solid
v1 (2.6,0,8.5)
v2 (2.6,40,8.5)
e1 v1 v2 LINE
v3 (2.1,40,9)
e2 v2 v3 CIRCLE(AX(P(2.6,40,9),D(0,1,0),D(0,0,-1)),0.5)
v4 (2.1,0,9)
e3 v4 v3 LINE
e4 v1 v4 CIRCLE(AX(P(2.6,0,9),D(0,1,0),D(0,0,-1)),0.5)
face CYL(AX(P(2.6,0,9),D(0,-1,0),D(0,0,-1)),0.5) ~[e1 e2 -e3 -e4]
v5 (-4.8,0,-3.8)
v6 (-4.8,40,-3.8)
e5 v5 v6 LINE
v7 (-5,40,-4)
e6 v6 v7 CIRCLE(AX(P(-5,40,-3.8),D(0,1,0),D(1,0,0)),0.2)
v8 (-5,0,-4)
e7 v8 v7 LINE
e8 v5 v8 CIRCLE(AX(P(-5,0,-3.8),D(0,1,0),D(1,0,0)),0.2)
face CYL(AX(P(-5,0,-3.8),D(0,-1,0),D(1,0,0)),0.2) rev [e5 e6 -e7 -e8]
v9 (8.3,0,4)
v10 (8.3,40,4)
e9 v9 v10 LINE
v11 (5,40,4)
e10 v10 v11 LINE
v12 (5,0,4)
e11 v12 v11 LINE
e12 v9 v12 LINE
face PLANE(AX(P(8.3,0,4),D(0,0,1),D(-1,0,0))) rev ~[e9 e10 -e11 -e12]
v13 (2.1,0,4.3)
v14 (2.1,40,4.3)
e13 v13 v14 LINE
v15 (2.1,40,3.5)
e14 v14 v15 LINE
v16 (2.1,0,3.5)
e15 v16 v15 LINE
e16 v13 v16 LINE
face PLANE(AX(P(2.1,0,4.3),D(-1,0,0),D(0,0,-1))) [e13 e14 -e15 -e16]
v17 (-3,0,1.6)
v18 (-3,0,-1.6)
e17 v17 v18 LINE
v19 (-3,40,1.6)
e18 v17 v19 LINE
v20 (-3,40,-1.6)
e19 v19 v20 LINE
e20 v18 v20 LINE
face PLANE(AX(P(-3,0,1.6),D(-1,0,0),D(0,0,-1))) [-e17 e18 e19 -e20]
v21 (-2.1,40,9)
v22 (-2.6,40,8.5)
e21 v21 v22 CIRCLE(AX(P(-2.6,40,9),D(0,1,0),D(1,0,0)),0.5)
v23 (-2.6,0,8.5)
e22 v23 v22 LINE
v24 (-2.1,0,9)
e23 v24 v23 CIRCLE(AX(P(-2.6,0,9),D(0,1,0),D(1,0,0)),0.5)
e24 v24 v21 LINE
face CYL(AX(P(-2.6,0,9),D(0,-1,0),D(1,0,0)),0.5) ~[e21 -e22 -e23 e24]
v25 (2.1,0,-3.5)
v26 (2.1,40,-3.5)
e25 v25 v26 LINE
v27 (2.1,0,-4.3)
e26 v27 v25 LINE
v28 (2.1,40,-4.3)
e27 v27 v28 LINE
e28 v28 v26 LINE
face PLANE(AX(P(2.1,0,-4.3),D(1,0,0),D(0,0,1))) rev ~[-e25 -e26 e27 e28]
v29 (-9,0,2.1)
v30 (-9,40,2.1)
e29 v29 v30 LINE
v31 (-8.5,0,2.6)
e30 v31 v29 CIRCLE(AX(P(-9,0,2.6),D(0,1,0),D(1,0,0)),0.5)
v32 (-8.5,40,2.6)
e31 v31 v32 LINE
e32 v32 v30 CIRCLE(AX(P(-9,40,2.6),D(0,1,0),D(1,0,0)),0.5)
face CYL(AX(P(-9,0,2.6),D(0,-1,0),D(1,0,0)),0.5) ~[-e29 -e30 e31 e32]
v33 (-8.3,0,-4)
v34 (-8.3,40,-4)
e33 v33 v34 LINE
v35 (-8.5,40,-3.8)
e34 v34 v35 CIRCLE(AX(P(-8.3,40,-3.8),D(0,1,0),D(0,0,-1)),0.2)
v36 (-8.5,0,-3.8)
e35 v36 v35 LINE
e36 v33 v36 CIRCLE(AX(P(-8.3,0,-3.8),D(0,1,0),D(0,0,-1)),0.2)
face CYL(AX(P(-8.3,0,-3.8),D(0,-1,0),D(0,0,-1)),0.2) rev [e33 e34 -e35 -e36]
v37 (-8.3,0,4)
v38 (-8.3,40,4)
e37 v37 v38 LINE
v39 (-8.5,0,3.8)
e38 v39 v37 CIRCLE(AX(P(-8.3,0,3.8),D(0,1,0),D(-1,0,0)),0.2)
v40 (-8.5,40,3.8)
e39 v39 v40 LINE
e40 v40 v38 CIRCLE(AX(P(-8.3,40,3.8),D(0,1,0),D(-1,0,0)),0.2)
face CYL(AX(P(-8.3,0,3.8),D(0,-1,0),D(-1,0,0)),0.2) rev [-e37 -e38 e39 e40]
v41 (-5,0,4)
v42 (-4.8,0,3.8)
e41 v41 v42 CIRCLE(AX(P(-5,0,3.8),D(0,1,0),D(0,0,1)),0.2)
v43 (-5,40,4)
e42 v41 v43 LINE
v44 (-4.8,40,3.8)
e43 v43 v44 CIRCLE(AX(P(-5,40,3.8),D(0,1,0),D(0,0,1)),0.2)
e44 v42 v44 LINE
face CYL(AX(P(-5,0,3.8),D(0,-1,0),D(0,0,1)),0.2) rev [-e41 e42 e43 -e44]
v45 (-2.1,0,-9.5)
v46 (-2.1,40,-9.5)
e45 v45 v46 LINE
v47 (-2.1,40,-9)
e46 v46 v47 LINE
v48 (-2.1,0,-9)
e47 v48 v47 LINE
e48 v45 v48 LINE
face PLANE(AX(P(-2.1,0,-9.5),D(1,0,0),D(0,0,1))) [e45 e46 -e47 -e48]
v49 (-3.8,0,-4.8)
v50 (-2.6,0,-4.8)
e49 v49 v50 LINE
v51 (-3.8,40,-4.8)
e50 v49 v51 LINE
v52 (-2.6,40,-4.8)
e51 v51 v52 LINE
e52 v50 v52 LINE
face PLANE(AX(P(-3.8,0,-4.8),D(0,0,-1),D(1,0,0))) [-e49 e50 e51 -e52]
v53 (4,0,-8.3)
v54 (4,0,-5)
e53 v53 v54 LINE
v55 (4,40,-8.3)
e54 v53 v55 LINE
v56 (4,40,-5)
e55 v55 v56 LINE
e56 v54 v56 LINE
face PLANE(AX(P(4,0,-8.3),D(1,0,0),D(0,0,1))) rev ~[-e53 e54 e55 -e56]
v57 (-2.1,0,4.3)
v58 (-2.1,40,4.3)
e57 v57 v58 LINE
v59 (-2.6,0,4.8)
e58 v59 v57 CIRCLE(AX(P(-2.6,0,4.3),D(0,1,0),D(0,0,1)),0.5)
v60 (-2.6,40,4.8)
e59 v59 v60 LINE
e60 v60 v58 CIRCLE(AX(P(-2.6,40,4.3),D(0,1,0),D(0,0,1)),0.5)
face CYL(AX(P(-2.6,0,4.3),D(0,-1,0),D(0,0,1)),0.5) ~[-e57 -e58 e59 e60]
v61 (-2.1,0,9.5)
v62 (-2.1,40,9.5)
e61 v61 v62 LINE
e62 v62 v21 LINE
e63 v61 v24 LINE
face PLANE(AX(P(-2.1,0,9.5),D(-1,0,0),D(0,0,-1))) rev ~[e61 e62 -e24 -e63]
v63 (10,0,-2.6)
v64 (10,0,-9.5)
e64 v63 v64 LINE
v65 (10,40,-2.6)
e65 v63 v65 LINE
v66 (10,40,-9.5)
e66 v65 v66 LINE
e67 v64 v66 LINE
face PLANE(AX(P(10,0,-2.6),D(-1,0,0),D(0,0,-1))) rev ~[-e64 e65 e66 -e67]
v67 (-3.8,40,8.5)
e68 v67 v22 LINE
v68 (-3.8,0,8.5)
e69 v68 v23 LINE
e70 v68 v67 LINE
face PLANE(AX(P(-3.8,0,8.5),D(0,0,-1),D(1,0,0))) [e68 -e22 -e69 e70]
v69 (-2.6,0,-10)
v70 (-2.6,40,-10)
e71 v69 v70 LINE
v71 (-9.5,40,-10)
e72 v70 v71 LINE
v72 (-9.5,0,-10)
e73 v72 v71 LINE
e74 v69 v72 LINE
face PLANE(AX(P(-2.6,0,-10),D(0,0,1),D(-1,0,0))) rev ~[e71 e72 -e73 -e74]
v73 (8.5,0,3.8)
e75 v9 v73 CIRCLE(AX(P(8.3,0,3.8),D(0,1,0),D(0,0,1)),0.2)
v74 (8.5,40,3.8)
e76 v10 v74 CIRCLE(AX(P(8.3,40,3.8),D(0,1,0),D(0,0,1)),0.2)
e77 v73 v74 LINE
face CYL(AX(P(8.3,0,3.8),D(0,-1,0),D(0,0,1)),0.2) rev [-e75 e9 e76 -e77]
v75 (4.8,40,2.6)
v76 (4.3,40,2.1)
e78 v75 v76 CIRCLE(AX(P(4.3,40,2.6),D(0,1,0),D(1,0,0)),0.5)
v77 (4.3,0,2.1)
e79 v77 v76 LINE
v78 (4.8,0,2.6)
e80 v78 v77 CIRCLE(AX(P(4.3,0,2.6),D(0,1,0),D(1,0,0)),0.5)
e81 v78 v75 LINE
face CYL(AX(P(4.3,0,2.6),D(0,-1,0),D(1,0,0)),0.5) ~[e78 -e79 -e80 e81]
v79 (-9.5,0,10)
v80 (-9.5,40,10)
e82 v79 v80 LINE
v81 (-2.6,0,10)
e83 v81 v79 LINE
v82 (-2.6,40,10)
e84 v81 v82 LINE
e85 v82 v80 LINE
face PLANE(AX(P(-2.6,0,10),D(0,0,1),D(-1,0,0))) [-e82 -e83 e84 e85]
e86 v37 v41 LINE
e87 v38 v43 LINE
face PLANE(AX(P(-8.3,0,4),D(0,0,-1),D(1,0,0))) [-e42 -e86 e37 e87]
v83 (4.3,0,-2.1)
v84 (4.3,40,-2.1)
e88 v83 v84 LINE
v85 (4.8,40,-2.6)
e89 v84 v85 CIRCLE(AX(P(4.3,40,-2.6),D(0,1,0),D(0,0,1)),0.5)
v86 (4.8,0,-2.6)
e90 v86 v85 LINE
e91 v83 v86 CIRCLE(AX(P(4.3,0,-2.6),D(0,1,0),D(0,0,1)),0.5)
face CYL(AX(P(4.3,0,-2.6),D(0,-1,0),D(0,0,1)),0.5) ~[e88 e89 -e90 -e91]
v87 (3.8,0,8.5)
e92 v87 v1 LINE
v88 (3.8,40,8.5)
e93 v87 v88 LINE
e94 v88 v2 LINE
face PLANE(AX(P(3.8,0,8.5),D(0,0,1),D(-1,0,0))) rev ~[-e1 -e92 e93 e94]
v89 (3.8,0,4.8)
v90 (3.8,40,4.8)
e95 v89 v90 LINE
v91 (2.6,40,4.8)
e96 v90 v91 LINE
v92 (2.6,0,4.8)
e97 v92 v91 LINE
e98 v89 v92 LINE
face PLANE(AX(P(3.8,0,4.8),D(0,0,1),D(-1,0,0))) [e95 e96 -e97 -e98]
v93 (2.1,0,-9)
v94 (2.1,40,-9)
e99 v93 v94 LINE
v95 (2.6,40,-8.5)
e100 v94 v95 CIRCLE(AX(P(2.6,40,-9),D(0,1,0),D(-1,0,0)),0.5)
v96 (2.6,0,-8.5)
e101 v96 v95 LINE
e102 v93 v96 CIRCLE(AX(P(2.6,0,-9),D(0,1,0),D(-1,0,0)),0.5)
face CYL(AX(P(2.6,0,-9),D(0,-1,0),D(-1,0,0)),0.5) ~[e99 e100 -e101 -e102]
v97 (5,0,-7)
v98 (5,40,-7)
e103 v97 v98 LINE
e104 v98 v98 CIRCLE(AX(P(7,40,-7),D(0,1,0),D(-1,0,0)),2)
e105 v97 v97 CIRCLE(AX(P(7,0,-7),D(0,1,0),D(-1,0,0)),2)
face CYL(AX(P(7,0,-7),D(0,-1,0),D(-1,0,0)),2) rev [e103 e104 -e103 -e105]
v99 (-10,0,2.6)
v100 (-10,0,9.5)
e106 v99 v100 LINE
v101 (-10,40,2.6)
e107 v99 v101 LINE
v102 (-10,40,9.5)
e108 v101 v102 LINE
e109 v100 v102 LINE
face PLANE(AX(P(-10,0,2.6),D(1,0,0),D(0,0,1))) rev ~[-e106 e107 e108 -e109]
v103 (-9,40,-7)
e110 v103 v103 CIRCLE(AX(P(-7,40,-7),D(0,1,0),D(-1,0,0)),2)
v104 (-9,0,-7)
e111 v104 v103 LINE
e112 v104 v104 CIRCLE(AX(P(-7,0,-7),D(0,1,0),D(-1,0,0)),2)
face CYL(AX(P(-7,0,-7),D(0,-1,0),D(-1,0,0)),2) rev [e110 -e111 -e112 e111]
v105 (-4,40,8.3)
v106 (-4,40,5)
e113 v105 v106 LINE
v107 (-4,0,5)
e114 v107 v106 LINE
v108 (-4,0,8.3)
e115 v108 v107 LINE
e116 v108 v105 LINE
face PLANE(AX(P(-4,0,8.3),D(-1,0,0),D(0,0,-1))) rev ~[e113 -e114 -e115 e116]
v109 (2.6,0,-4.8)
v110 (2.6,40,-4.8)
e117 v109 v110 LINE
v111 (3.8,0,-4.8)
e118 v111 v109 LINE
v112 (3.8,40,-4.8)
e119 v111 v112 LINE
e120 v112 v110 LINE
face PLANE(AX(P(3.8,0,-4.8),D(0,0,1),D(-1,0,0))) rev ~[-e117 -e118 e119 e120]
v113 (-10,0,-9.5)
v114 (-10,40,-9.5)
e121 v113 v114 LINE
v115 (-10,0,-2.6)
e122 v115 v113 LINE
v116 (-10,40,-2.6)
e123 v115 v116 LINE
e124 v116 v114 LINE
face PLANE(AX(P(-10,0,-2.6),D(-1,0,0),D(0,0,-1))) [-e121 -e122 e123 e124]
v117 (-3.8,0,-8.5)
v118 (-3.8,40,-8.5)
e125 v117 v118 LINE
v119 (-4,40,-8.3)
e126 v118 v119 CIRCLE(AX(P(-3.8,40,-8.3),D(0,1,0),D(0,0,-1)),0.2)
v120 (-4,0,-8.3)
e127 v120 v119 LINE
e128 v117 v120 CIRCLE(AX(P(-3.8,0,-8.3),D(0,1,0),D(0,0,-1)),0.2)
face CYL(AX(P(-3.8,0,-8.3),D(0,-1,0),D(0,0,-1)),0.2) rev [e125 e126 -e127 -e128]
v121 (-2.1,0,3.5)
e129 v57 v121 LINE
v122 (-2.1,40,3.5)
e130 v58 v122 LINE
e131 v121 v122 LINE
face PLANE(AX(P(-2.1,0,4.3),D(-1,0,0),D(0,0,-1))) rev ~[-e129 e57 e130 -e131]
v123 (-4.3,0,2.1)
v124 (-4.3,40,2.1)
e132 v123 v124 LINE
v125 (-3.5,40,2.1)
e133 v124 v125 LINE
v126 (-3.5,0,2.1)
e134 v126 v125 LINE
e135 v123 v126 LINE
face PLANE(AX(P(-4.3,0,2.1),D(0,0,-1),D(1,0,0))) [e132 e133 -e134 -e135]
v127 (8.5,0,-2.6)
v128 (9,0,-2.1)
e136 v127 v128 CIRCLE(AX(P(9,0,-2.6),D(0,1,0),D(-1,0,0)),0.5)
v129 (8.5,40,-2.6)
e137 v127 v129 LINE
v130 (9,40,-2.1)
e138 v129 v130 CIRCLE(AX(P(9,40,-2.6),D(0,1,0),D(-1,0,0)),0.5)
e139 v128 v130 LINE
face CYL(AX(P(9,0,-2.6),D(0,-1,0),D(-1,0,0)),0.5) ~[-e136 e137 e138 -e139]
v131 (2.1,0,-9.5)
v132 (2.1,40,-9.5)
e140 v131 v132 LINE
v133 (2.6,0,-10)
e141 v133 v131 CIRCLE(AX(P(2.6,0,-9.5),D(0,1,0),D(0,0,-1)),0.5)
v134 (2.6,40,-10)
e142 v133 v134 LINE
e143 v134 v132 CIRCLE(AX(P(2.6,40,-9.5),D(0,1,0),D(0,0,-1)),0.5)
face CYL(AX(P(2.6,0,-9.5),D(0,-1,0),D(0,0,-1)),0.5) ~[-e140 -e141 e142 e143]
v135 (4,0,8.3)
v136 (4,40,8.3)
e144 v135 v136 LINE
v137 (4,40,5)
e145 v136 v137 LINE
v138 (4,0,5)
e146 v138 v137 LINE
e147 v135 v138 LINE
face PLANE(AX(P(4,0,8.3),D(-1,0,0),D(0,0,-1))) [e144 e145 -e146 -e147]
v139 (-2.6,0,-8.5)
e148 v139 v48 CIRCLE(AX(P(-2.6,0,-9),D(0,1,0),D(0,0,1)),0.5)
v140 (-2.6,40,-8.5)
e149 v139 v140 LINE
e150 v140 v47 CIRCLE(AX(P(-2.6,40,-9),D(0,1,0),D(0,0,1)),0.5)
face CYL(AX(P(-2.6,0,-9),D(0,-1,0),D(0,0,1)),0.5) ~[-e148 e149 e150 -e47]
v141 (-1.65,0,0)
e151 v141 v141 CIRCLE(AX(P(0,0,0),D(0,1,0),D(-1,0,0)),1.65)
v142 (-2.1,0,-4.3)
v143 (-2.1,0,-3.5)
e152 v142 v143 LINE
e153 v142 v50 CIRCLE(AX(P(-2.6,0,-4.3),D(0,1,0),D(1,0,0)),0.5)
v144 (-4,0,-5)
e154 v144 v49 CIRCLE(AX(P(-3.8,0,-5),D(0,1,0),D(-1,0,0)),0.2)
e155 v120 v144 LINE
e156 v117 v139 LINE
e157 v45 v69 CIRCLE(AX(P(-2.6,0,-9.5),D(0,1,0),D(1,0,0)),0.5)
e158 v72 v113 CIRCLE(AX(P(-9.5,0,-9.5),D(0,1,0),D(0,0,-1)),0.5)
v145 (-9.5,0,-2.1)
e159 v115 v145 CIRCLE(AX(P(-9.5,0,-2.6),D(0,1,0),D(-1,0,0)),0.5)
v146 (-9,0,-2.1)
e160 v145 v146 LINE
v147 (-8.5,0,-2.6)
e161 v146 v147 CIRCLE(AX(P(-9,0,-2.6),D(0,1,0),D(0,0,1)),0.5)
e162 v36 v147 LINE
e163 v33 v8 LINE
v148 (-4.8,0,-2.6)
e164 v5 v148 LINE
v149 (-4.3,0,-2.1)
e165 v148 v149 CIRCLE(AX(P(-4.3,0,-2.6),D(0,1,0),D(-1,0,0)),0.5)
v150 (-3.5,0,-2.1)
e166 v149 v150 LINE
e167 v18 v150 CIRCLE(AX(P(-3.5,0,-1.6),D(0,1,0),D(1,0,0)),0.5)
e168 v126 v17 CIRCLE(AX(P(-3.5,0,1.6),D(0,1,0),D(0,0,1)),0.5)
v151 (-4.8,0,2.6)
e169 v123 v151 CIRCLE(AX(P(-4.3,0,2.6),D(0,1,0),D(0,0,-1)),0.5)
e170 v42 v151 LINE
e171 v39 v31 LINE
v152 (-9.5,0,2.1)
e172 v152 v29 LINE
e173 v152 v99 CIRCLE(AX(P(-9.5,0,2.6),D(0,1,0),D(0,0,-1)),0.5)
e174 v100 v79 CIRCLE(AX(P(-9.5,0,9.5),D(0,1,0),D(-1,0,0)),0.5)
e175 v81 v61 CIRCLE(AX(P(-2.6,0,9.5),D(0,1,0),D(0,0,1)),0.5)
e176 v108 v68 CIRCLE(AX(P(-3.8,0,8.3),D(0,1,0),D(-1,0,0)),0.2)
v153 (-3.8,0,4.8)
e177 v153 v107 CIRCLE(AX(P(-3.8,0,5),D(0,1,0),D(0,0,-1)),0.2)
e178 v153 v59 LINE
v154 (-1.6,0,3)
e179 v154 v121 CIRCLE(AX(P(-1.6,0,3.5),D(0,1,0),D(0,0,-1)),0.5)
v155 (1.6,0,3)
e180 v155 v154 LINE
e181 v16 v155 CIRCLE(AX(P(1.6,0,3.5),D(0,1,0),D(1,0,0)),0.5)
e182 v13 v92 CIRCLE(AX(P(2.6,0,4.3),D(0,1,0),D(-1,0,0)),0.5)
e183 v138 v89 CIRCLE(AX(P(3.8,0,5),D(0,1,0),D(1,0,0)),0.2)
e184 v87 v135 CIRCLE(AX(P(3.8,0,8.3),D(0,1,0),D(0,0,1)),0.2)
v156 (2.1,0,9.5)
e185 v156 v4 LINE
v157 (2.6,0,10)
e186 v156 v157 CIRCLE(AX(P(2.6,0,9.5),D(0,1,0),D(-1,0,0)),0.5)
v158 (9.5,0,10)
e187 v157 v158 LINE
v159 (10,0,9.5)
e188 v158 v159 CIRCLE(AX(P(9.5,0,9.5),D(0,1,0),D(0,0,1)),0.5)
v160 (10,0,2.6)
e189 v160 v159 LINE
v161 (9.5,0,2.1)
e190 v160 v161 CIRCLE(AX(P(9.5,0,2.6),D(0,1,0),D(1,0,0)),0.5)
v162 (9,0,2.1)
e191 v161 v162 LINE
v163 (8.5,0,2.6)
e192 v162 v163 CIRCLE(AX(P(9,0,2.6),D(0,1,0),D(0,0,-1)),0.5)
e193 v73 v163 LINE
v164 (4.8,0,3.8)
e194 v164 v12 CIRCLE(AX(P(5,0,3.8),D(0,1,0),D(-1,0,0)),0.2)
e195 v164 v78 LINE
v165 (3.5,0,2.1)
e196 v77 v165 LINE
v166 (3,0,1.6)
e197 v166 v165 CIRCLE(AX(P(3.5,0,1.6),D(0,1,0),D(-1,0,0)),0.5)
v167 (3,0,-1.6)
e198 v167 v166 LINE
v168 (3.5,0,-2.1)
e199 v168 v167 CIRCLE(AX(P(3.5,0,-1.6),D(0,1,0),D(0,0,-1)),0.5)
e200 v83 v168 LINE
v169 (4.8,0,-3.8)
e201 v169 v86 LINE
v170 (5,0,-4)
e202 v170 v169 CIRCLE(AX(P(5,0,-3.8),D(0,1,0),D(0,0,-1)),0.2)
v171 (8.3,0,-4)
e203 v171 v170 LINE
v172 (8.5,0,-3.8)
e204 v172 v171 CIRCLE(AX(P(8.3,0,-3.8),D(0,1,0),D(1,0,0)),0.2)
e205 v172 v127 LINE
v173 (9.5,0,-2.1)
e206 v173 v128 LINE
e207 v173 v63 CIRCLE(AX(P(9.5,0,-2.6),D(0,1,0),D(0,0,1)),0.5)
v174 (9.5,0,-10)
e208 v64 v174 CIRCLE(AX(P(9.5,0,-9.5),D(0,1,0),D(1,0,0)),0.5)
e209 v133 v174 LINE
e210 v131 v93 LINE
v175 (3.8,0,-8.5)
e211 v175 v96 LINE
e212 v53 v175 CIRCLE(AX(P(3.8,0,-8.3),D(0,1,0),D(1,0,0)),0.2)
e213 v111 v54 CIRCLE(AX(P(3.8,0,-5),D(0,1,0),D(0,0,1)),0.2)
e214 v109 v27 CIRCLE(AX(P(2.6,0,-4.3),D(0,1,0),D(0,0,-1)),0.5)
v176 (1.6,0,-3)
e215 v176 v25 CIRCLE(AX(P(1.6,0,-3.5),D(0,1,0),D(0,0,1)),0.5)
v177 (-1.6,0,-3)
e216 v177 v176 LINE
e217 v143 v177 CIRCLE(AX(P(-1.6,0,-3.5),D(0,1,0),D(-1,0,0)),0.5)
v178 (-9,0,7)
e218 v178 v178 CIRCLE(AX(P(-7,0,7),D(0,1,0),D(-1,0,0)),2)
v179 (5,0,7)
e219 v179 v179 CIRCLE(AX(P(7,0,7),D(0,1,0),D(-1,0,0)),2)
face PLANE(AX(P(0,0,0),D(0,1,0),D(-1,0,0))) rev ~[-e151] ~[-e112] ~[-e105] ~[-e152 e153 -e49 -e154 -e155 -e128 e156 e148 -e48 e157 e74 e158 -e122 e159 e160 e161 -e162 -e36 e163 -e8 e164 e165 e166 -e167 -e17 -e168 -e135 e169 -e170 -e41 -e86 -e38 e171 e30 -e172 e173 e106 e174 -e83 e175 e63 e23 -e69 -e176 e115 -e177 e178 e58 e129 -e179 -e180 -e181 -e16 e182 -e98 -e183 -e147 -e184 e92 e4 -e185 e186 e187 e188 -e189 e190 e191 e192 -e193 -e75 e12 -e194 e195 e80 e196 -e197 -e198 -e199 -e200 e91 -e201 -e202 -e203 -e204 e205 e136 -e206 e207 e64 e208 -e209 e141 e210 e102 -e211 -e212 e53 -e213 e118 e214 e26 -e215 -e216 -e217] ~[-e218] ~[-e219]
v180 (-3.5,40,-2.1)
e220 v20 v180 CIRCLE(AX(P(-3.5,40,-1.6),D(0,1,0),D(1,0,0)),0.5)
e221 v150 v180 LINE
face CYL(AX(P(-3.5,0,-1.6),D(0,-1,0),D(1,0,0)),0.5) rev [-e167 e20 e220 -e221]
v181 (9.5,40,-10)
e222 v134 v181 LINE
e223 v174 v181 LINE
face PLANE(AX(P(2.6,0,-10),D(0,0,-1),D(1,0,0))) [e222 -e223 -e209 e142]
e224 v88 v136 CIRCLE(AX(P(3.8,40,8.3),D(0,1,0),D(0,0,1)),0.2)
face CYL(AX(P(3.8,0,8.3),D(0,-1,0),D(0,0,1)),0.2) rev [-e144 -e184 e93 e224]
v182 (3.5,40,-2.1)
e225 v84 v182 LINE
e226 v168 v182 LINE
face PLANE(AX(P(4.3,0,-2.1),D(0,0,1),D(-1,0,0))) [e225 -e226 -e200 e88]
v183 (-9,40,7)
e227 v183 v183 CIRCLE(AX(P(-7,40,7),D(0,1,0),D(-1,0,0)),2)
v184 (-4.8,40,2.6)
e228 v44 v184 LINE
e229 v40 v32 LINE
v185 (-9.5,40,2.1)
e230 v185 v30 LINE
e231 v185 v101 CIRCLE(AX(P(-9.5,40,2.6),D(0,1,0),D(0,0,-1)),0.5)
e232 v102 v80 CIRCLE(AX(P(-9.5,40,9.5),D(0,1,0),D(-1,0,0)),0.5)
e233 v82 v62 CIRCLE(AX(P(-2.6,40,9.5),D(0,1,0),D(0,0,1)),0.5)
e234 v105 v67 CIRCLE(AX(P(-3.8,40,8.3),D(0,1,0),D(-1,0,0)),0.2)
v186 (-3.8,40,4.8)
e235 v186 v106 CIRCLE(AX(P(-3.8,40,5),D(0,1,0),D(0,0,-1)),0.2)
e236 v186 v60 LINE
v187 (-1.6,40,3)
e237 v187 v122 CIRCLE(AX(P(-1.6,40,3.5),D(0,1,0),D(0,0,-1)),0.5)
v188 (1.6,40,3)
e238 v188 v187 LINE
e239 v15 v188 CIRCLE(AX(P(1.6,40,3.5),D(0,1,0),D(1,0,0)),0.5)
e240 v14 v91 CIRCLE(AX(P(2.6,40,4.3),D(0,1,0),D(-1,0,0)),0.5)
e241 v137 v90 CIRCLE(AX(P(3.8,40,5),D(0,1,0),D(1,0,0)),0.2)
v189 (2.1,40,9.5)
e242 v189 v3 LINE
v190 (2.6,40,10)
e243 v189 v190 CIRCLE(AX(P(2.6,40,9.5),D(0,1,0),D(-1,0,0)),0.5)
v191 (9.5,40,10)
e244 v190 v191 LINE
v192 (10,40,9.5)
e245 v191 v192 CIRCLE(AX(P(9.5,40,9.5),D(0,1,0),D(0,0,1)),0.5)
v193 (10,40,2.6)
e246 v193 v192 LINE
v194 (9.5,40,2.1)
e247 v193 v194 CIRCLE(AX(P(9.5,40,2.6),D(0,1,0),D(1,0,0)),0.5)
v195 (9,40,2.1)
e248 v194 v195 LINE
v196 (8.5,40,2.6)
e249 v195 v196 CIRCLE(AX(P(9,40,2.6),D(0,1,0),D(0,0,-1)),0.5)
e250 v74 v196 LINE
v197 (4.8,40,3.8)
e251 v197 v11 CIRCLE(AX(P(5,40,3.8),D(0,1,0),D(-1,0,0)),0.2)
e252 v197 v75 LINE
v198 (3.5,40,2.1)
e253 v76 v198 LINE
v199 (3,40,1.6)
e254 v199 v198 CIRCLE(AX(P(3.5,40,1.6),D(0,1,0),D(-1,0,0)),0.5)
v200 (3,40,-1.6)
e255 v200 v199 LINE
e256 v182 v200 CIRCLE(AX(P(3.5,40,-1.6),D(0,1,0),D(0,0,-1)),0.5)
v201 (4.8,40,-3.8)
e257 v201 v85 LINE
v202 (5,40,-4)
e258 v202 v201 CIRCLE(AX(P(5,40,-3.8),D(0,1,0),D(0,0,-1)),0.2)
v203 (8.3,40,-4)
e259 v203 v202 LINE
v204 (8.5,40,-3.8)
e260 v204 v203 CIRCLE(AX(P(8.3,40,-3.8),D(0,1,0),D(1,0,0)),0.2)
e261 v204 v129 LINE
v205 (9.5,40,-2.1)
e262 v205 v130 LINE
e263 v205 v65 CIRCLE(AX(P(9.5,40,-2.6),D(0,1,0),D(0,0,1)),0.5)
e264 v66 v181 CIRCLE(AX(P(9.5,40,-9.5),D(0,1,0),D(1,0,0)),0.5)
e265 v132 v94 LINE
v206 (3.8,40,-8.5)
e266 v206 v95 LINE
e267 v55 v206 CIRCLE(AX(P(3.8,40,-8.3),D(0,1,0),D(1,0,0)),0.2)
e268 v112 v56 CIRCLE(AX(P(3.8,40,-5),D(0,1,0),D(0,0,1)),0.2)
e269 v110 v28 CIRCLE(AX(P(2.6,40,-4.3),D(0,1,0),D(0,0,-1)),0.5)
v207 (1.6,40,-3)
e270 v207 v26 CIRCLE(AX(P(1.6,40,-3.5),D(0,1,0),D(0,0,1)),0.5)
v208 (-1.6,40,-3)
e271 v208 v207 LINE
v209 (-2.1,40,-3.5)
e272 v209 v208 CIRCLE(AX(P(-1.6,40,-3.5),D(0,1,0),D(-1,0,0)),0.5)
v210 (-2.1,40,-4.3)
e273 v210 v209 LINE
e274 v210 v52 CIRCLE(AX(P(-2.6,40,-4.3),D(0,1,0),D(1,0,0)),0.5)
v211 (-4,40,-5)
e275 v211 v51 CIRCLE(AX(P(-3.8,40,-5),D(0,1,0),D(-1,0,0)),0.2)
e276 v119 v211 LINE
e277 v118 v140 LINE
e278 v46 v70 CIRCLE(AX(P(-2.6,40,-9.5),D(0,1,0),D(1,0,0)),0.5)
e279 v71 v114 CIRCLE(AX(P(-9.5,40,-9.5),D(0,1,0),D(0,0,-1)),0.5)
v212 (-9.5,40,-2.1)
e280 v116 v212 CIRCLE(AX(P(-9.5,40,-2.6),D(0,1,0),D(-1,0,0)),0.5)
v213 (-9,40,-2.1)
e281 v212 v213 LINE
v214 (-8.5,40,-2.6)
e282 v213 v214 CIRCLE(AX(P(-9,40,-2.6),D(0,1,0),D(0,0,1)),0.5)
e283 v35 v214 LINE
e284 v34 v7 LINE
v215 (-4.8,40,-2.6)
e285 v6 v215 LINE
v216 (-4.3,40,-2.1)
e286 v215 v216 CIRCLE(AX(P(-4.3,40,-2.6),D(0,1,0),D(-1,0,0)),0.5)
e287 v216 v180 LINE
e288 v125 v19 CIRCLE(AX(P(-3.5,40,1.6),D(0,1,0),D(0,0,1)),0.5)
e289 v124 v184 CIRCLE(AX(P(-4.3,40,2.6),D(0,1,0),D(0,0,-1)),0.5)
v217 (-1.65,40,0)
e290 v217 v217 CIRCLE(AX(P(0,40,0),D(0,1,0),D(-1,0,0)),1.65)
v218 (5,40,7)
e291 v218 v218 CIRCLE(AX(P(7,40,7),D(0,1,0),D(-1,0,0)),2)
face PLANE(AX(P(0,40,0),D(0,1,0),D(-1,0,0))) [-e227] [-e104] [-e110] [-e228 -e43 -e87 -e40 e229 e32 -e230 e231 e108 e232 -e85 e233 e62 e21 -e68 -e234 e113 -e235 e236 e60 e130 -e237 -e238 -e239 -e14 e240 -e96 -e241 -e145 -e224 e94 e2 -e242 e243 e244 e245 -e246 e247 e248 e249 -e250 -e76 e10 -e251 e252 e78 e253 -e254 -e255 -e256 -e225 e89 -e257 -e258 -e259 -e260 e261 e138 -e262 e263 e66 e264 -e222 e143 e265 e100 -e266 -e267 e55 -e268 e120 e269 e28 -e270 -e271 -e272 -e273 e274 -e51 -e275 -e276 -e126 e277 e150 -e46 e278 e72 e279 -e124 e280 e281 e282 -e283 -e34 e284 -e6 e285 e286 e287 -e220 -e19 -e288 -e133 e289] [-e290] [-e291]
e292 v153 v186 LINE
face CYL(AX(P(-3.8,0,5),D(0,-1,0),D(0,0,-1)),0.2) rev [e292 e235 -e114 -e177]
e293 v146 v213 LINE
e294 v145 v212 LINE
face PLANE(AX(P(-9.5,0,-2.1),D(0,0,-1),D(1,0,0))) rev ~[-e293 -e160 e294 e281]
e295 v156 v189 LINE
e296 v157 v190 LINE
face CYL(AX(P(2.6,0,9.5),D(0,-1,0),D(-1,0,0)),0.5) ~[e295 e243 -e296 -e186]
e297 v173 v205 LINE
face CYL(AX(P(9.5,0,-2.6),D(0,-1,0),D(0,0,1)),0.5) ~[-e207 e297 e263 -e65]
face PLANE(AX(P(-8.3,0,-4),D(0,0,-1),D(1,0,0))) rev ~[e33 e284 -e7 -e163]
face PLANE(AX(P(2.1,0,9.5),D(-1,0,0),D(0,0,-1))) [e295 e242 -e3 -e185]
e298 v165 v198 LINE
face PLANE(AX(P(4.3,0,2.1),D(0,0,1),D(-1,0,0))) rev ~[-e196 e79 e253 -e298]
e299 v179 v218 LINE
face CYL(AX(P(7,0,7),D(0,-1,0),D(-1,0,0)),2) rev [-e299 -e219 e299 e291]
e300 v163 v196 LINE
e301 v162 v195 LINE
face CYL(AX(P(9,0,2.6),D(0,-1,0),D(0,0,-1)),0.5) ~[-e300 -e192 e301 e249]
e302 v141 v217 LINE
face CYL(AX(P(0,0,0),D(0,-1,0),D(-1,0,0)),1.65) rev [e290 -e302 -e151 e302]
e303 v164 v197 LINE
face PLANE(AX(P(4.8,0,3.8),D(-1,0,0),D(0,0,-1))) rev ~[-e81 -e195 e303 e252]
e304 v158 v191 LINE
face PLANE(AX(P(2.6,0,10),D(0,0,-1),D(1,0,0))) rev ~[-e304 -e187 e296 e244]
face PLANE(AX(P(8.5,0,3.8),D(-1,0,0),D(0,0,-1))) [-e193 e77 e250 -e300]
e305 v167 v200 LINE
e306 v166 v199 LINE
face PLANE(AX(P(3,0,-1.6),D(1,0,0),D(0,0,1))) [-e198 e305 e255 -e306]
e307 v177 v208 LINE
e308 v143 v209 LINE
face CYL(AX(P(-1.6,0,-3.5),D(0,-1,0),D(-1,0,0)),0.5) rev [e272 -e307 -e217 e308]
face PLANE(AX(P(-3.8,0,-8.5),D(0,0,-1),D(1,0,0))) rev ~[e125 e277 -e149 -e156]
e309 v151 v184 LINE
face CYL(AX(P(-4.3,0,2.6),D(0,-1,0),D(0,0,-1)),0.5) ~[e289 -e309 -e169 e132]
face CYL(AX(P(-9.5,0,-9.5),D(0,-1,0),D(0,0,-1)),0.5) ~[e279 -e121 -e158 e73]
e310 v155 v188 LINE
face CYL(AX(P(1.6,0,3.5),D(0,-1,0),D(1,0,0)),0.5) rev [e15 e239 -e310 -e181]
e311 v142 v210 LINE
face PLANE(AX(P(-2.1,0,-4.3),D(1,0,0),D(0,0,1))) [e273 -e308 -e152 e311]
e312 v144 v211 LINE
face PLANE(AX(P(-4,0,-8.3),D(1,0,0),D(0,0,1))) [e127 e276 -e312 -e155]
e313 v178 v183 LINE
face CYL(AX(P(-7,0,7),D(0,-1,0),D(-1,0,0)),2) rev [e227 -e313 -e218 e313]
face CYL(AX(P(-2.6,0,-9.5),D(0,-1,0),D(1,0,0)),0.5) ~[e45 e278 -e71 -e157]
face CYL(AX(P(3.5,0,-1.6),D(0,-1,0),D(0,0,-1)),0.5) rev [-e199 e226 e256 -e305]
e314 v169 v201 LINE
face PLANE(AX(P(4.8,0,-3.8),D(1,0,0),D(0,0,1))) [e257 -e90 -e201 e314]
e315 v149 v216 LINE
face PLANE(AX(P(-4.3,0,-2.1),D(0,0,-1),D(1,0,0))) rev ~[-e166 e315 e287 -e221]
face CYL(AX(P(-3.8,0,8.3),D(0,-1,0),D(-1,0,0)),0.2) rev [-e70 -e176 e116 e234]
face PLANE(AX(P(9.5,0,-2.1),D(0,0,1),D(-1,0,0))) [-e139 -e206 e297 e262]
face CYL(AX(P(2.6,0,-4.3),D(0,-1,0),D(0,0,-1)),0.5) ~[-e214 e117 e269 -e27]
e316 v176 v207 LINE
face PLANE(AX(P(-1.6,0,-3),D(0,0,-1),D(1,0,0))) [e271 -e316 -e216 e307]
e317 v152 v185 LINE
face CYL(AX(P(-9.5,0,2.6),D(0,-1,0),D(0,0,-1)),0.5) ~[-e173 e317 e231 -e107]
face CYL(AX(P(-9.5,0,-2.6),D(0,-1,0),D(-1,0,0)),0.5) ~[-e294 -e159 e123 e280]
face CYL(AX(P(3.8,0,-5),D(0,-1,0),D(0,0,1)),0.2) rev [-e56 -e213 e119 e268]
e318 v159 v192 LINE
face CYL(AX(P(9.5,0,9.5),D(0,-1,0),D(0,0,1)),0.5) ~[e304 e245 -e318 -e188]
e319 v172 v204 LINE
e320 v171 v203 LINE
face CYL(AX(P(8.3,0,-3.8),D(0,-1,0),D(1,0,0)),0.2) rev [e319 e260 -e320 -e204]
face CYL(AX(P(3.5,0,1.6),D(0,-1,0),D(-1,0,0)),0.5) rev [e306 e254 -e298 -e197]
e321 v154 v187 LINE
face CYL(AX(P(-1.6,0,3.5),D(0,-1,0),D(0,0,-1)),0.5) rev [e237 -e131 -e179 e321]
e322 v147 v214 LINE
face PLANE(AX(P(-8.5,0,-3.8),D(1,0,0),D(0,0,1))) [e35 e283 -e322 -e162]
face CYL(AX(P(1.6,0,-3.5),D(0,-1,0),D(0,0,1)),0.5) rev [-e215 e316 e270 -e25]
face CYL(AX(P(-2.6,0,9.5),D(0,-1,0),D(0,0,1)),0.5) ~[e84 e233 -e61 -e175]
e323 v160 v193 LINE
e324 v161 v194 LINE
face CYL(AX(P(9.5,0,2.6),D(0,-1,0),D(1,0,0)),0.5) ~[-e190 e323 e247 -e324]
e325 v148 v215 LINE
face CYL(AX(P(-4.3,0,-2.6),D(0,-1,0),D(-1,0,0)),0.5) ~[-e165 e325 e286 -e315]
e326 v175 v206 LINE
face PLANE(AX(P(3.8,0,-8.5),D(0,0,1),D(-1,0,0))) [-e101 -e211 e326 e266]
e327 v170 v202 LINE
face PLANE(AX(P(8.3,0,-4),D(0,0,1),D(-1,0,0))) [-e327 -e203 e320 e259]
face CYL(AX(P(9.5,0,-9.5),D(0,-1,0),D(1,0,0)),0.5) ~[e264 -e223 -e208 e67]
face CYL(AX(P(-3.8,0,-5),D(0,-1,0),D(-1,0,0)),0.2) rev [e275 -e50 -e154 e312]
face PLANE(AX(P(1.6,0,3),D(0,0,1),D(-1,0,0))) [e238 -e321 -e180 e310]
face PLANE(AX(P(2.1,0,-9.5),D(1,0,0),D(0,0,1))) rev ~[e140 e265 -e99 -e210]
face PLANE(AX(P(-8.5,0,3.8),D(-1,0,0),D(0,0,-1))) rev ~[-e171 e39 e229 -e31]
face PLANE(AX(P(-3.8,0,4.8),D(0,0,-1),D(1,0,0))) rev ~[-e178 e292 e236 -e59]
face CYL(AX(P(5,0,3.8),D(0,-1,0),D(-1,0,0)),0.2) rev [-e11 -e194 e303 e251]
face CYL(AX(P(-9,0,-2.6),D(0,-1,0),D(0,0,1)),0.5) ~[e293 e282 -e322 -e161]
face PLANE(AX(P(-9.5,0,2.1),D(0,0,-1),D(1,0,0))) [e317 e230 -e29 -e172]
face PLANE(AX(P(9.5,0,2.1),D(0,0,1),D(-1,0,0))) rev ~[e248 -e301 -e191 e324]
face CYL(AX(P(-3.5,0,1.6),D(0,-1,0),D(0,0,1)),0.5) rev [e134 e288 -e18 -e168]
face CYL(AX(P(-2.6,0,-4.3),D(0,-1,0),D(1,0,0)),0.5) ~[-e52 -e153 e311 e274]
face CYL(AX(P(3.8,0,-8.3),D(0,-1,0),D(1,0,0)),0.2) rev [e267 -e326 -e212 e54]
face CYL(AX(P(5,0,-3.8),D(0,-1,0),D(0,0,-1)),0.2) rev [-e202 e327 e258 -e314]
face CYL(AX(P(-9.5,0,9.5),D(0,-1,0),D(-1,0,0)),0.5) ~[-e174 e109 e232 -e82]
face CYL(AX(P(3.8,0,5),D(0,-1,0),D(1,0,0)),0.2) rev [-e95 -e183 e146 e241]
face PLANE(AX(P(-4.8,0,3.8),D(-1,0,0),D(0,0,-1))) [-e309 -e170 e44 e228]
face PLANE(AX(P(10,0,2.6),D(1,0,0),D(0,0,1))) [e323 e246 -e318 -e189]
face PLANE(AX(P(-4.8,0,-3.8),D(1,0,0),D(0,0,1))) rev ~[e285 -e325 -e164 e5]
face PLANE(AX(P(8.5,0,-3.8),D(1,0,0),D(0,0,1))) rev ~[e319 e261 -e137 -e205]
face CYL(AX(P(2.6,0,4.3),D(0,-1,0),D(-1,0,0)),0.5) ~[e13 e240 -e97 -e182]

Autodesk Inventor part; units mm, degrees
ref_plane "YZ Plane" through (0, 0, 0) normal (1, 0, 0) x (0, 1, 0)
ref_plane "開始平面" through (0, 0, 0) normal (0, 1, 0) x (-1, 0, 0)
ref_plane "終了平面" through (0, 40, 0) normal (0, 1, 0) x (-1, 0, 0)
sketch "スケッチ" plane through (0, 0, 0) normal (0, 1, 0) x (-1, 0, 0)
  line L0 (8.5, -3.8) -> (8.5, -2.6)
  line L1 (4, -8.3) -> (4, -5)
  circle A0 centre (7, -7) radius 2
  line L2 (10, -2.6) -> (10, -9.5)
  line L3 (2.6, -10) -> (9.5, -10)
  line L4 (2.1, -9.5) -> (2.1, -9)
  line L5 (8.5, -2.1) -> (8.5, -4)
  line L6 (3.8, -4.8) -> (2.6, -4.8)
  line L7 (4.8, -3.8) -> (4.8, -2.6)
  arc A1 (2.1, -4.3) -> (2.6, -4.8) centre (2.6, -4.3) ccw
  arc A2 (2.6, -8.5) -> (2.1, -9) centre (2.6, -9) ccw
  arc A3 (3.8, -8.5) -> (4, -8.3) centre (3.8, -8.3) ccw
  arc A4 (4, -5) -> (3.8, -4.8) centre (3.8, -5) ccw
  arc A5 (2.1, -3.5) -> (1.6, -3) centre (1.6, -3.5) ccw
  arc A6 (2.1, -9.5) -> (2.6, -10) centre (2.6, -9.5) ccw
  arc A7 (9.5, -10) -> (10, -9.5) centre (9.5, -9.5) ccw
  arc A8 (10, -2.6) -> (9.5, -2.1) centre (9.5, -2.6) ccw
  arc A9 (9, -2.1) -> (8.5, -2.6) centre (9, -2.6) ccw
  arc A10 (8.3, -4) -> (8.5, -3.8) centre (8.3, -3.8) ccw
  arc A11 (4.8, -3.8) -> (5, -4) centre (5, -3.8) ccw
  line L8 (4.3, -2.1) -> (3.5, -2.1)
  arc A12 (4.8, -2.6) -> (4.3, -2.1) centre (4.3, -2.6) ccw
  arc A13 (3, -1.6) -> (3.5, -2.1) centre (3.5, -1.6) ccw
  line L9 (2.1, -4.3) -> (2.1, -3.5)
  line L10 (3.8, -8.5) -> (2.6, -8.5)
  line L11 (9.5, -2.1) -> (9, -2.1)
  line L12 (8.3, -4) -> (5, -4)
  circle A14 centre (0, 0) radius 1.65
  arc A15 (8.5, 2.6) -> (9, 2.1) centre (9, 2.6) ccw
  line L13 (8.5, 3.8) -> (8.5, 2.6)
  arc A16 (8.5, 3.8) -> (8.3, 4) centre (8.3, 3.8) ccw
  line L14 (8.3, 4) -> (5, 4)
  line L15 (10, 2.6) -> (10, 9.5)
  arc A17 (10, 9.5) -> (9.5, 10) centre (9.5, 9.5) ccw
  circle A18 centre (7, 7) radius 2
  line L16 (4, 8.3) -> (4, 5)
  line L17 (2.6, 10) -> (9.5, 10)
  line L18 (9.5, 2.1) -> (9, 2.1)
  arc A19 (9.5, 2.1) -> (10, 2.6) centre (9.5, 2.6) ccw
  line L19 (3.8, 8.5) -> (2.6, 8.5)
  line L20 (4.8, 3.8) -> (4.8, 2.6)
  arc A20 (4.3, 2.1) -> (4.8, 2.6) centre (4.3, 2.6) ccw
  line L21 (2.1, 8.5) -> (4, 8.5)
  arc A21 (4, 8.3) -> (3.8, 8.5) centre (3.8, 8.3) ccw
  arc A22 (2.1, 9) -> (2.6, 8.5) centre (2.6, 9) ccw
  arc A23 (2.6, 10) -> (2.1, 9.5) centre (2.6, 9.5) ccw
  line L22 (2.1, 9.5) -> (2.1, 9)
  arc A24 (1.6, 3) -> (2.1, 3.5) centre (1.6, 3.5) ccw
  line L23 (3.8, 4.8) -> (2.6, 4.8)
  arc A25 (5, 4) -> (4.8, 3.8) centre (5, 3.8) ccw
  arc A26 (3.8, 4.8) -> (4, 5) centre (3.8, 5) ccw
  line L24 (4.3, 2.1) -> (3.5, 2.1)
  arc A27 (2.6, 4.8) -> (2.1, 4.3) centre (2.6, 4.3) ccw
  line L25 (2.1, 4.3) -> (2.1, 3.5)
  arc A28 (3.5, 2.1) -> (3, 1.6) centre (3.5, 1.6) ccw
  arc A29 (-2.6, 8.5) -> (-2.1, 9) centre (-2.6, 9) ccw
  line L26 (-3.8, 8.5) -> (-2.6, 8.5)
  arc A30 (-3.8, 8.5) -> (-4, 8.3) centre (-3.8, 8.3) ccw
  line L27 (-4, 8.3) -> (-4, 5)
  line L28 (-2.6, 10) -> (-9.5, 10)
  arc A31 (-9.5, 10) -> (-10, 9.5) centre (-9.5, 9.5) ccw
  circle A32 centre (-7, 7) radius 2
  line L29 (-8.3, 4) -> (-5, 4)
  line L30 (-10, 2.6) -> (-10, 9.5)
  line L31 (-2.1, 9.5) -> (-2.1, 9)
  arc A33 (-2.1, 9.5) -> (-2.6, 10) centre (-2.6, 9.5) ccw
  line L32 (-8.5, 3.8) -> (-8.5, 2.6)
  line L33 (-3.8, 4.8) -> (-2.6, 4.8)
  arc A34 (-2.1, 4.3) -> (-2.6, 4.8) centre (-2.6, 4.3) ccw
  line L34 (-8.5, 2.1) -> (-8.5, 4)
  arc A35 (-8.3, 4) -> (-8.5, 3.8) centre (-8.3, 3.8) ccw
  arc A36 (-9, 2.1) -> (-8.5, 2.6) centre (-9, 2.6) ccw
  arc A37 (-10, 2.6) -> (-9.5, 2.1) centre (-9.5, 2.6) ccw
  line L35 (-9.5, 2.1) -> (-9, 2.1)
  arc A38 (-3, 1.6) -> (-3.5, 2.1) centre (-3.5, 1.6) ccw
  line L36 (-4.8, 3.8) -> (-4.8, 2.6)
  arc A39 (-4, 5) -> (-3.8, 4.8) centre (-3.8, 5) ccw
  arc A40 (-4.8, 3.8) -> (-5, 4) centre (-5, 3.8) ccw
  line L37 (-2.1, 4.3) -> (-2.1, 3.5)
  arc A41 (-4.8, 2.6) -> (-4.3, 2.1) centre (-4.3, 2.6) ccw
  line L38 (-4.3, 2.1) -> (-3.5, 2.1)
  arc A42 (-2.1, 3.5) -> (-1.6, 3) centre (-1.6, 3.5) ccw
  arc A43 (-8.5, -2.6) -> (-9, -2.1) centre (-9, -2.6) ccw
  line L39 (-8.5, -3.8) -> (-8.5, -2.6)
  arc A44 (-8.5, -3.8) -> (-8.3, -4) centre (-8.3, -3.8) ccw
  line L40 (-8.3, -4) -> (-5, -4)
  line L41 (-10, -2.6) -> (-10, -9.5)
  arc A45 (-10, -9.5) -> (-9.5, -10) centre (-9.5, -9.5) ccw
  circle A46 centre (-7, -7) radius 2
  line L42 (-4, -8.3) -> (-4, -5)
  line L43 (-2.6, -10) -> (-9.5, -10)
  line L44 (-9.5, -2.1) -> (-9, -2.1)
  arc A47 (-9.5, -2.1) -> (-10, -2.6) centre (-9.5, -2.6) ccw
  line L45 (-3.8, -8.5) -> (-2.6, -8.5)
  line L46 (-4.8, -3.8) -> (-4.8, -2.6)
  arc A48 (-4.3, -2.1) -> (-4.8, -2.6) centre (-4.3, -2.6) ccw
  line L47 (-2.1, -8.5) -> (-4, -8.5)
  arc A49 (-4, -8.3) -> (-3.8, -8.5) centre (-3.8, -8.3) ccw
  arc A50 (-2.1, -9) -> (-2.6, -8.5) centre (-2.6, -9) ccw
  arc A51 (-2.6, -10) -> (-2.1, -9.5) centre (-2.6, -9.5) ccw
  line L48 (-2.1, -9.5) -> (-2.1, -9)
  arc A52 (-1.6, -3) -> (-2.1, -3.5) centre (-1.6, -3.5) ccw
  line L49 (-3.8, -4.8) -> (-2.6, -4.8)
  arc A53 (-5, -4) -> (-4.8, -3.8) centre (-5, -3.8) ccw
  arc A54 (-3.8, -4.8) -> (-4, -5) centre (-3.8, -5) ccw
  line L50 (-4.3, -2.1) -> (-3.5, -2.1)
  arc A55 (-2.6, -4.8) -> (-2.1, -4.3) centre (-2.6, -4.3) ccw
  line L51 (-2.1, -4.3) -> (-2.1, -3.5)
  arc A56 (-3.5, -2.1) -> (-3, -1.6) centre (-3.5, -1.6) ccw
  line L52 (1.6, -3) -> (-1.6, -3)
  line L53 (-3, -1.6) -> (-3, 1.6)
  line L54 (-1.6, 3) -> (1.6, 3)
  line L55 (3, 1.6) -> (3, -1.6)
  point P0 (2.1, -10)
  point P1 (10, 2.1)
  point P2 (-2.1, 10)
  point P3 (-10, -2.1)
  dimension "d12" = 4
  dimension "d14" = 3.7
  dimension "d16" = 0.5
  dimension "d17" = 0.5
  dimension "d18" = 0.2
  dimension "d19" = 0.5
  dimension "d20" = 0.5
  dimension "d24" = 0.5
  dimension "d25" = 0.2
  dimension "d28" = 0.5
  dimension "d31" = 1.5
  dimension "d36" = 3.7
  dimension "d37" = 1.5
  dimension "d58" = 3.3
  dimension "d65" = 10
  dimension "d67" = 2.1
  dimension "d68" = 2.1
  dimension "d69" = 1.9
  dimension "d70" = 7
  dimension "d72" = 2.1
  dimension "d73" = 2.1
  dimension "d74" = 1.9
  dimension "d75" = 7
  dimension "d76" = 10
  dimension "d80" = 360
  dimension "d82" = 3
extrude "ボディ" add sketch "スケッチ" along normal up to surface (40 mm away) from surface at 0
sketch "スケッチ7" plane through (2.6, 0, -10) normal (0, -1, 0) x (1, 0, 0)
  point P0 (-2.6, 10)
sketch "スケッチ8" plane through (2.6, 0, -10) normal (0, -1, 0) x (1, 0, 0)
  circle A0 centre (4.4, 3) radius 2 projected
  circle A1 centre (4.4, 17) radius 2 projected
  circle A2 centre (-9.6, 17) radius 2 projected
  circle A3 centre (-9.6, 3) radius 2 projected
  circle A4 centre (-2.6, 10) radius 1.65 projected
  arc A5 (-5.2, 5.2) -> (-4.7, 5.7) centre (-5.2, 5.7) ccw projected
  line L0 (-4.7, 5.7) -> (-4.7, 6.5) projected
  arc A6 (-4.2, 7) -> (-4.7, 6.5) centre (-4.2, 6.5) ccw projected
  line L1 (-4.2, 7) -> (-1, 7) projected
  arc A7 (-0.5, 6.5) -> (-1, 7) centre (-1, 6.5) ccw projected
  line L2 (-0.5, 6.5) -> (-0.5, 5.7) projected
  arc A8 (-0.5, 5.7) -> (0, 5.2) centre (0, 5.7) ccw projected
  line L3 (0, 5.2) -> (1.2, 5.2) projected
  arc A9 (1.4, 5) -> (1.2, 5.2) centre (1.2, 5) ccw projected
  line L4 (1.4, 5) -> (1.4, 1.7) projected
  arc A10 (1.2, 1.5) -> (1.4, 1.7) centre (1.2, 1.7) ccw projected
  line L5 (1.2, 1.5) -> (0, 1.5) projected
  arc A11 (0, 1.5) -> (-0.5, 1) centre (0, 1) ccw projected
  line L6 (-0.5, 1) -> (-0.5, 0.5) projected
  arc A12 (-0.5, 0.5) -> (0, 0) centre (0, 0.5) ccw projected
  line L7 (0, 0) -> (6.9, 0) projected
  arc A13 (6.9, 0) -> (7.4, 0.5) centre (6.9, 0.5) ccw projected
  line L8 (7.4, 0.5) -> (7.4, 7.4) projected
  arc A14 (7.4, 7.4) -> (6.9, 7.9) centre (6.9, 7.4) ccw projected
  line L9 (6.9, 7.9) -> (6.4, 7.9) projected
  arc A15 (6.4, 7.9) -> (5.9, 7.4) centre (6.4, 7.4) ccw projected
  line L10 (5.9, 7.4) -> (5.9, 6.2) projected
  arc A16 (5.7, 6) -> (5.9, 6.2) centre (5.7, 6.2) ccw projected
  line L11 (5.7, 6) -> (2.4, 6) projected
  arc A17 (2.2, 6.2) -> (2.4, 6) centre (2.4, 6.2) ccw projected
  line L12 (2.2, 6.2) -> (2.2, 7.4) projected
  arc A18 (2.2, 7.4) -> (1.7, 7.9) centre (1.7, 7.4) ccw projected
  line L13 (1.7, 7.9) -> (0.9, 7.9) projected
  arc A19 (0.4, 8.4) -> (0.9, 7.9) centre (0.9, 8.4) ccw projected
  line L14 (0.4, 8.4) -> (0.4, 11.6) projected
  arc A20 (0.9, 12.1) -> (0.4, 11.6) centre (0.9, 11.6) ccw projected
  line L15 (0.9, 12.1) -> (1.7, 12.1) projected
  arc A21 (1.7, 12.1) -> (2.2, 12.6) centre (1.7, 12.6) ccw projected
  line L16 (2.2, 12.6) -> (2.2, 13.8) projected
  arc A22 (2.4, 14) -> (2.2, 13.8) centre (2.4, 13.8) ccw projected
  line L17 (2.4, 14) -> (5.7, 14) projected
  arc A23 (5.9, 13.8) -> (5.7, 14) centre (5.7, 13.8) ccw projected
  line L18 (5.9, 13.8) -> (5.9, 12.6) projected
  arc A24 (5.9, 12.6) -> (6.4, 12.1) centre (6.4, 12.6) ccw projected
  line L19 (6.4, 12.1) -> (6.9, 12.1) projected
  arc A25 (6.9, 12.1) -> (7.4, 12.6) centre (6.9, 12.6) ccw projected
  line L20 (7.4, 12.6) -> (7.4, 19.5) projected
  arc A26 (7.4, 19.5) -> (6.9, 20) centre (6.9, 19.5) ccw projected
  line L21 (6.9, 20) -> (0, 20) projected
  arc A27 (0, 20) -> (-0.5, 19.5) centre (0, 19.5) ccw projected
  line L22 (-0.5, 19.5) -> (-0.5, 19) projected
  arc A28 (-0.5, 19) -> (0, 18.5) centre (0, 19) ccw projected
  line L23 (0, 18.5) -> (1.2, 18.5) projected
  arc A29 (1.4, 18.3) -> (1.2, 18.5) centre (1.2, 18.3) ccw projected
  line L24 (1.4, 18.3) -> (1.4, 15) projected
  arc A30 (1.2, 14.8) -> (1.4, 15) centre (1.2, 15) ccw projected
  line L25 (1.2, 14.8) -> (0, 14.8) projected
  arc A31 (0, 14.8) -> (-0.5, 14.3) centre (0, 14.3) ccw projected
  line L26 (-0.5, 14.3) -> (-0.5, 13.5) projected
  arc A32 (-1, 13) -> (-0.5, 13.5) centre (-1, 13.5) ccw projected
  line L27 (-1, 13) -> (-4.2, 13) projected
  arc A33 (-4.7, 13.5) -> (-4.2, 13) centre (-4.2, 13.5) ccw projected
  line L28 (-4.7, 13.5) -> (-4.7, 14.3) projected
  arc A34 (-4.7, 14.3) -> (-5.2, 14.8) centre (-5.2, 14.3) ccw projected
  line L29 (-5.2, 14.8) -> (-6.4, 14.8) projected
  arc A35 (-6.6, 15) -> (-6.4, 14.8) centre (-6.4, 15) ccw projected
  line L30 (-6.6, 15) -> (-6.6, 18.3) projected
  arc A36 (-6.4, 18.5) -> (-6.6, 18.3) centre (-6.4, 18.3) ccw projected
  line L31 (-6.4, 18.5) -> (-5.2, 18.5) projected
  arc A37 (-5.2, 18.5) -> (-4.7, 19) centre (-5.2, 19) ccw projected
  line L32 (-4.7, 19) -> (-4.7, 19.5) projected
  arc A38 (-4.7, 19.5) -> (-5.2, 20) centre (-5.2, 19.5) ccw projected
  line L33 (-5.2, 20) -> (-12.1, 20) projected
  arc A39 (-12.1, 20) -> (-12.6, 19.5) centre (-12.1, 19.5) ccw projected
  line L34 (-12.6, 19.5) -> (-12.6, 12.6) projected
  arc A40 (-12.6, 12.6) -> (-12.1, 12.1) centre (-12.1, 12.6) ccw projected
  line L35 (-12.1, 12.1) -> (-11.6, 12.1) projected
  arc A41 (-11.6, 12.1) -> (-11.1, 12.6) centre (-11.6, 12.6) ccw projected
  line L36 (-11.1, 12.6) -> (-11.1, 13.8) projected
  arc A42 (-10.9, 14) -> (-11.1, 13.8) centre (-10.9, 13.8) ccw projected
  line L37 (-10.9, 14) -> (-7.6, 14) projected
  arc A43 (-7.4, 13.8) -> (-7.6, 14) centre (-7.6, 13.8) ccw projected
  line L38 (-7.4, 13.8) -> (-7.4, 12.6) projected
  arc A44 (-7.4, 12.6) -> (-6.9, 12.1) centre (-6.9, 12.6) ccw projected
  line L39 (-6.9, 12.1) -> (-6.1, 12.1) projected
  arc A45 (-5.6, 11.6) -> (-6.1, 12.1) centre (-6.1, 11.6) ccw projected
  line L40 (-5.6, 11.6) -> (-5.6, 8.4) projected
  arc A46 (-6.1, 7.9) -> (-5.6, 8.4) centre (-6.1, 8.4) ccw projected
  line L41 (-6.1, 7.9) -> (-6.9, 7.9) projected
  arc A47 (-6.9, 7.9) -> (-7.4, 7.4) centre (-6.9, 7.4) ccw projected
  line L42 (-7.4, 7.4) -> (-7.4, 6.2) projected
  arc A48 (-7.6, 6) -> (-7.4, 6.2) centre (-7.6, 6.2) ccw projected
  line L43 (-7.6, 6) -> (-10.9, 6) projected
  arc A49 (-11.1, 6.2) -> (-10.9, 6) centre (-10.9, 6.2) ccw projected
  line L44 (-11.1, 6.2) -> (-11.1, 7.4) projected
  arc A50 (-11.1, 7.4) -> (-11.6, 7.9) centre (-11.6, 7.4) ccw projected
  line L45 (-11.6, 7.9) -> (-12.1, 7.9) projected
  arc A51 (-12.1, 7.9) -> (-12.6, 7.4) centre (-12.1, 7.4) ccw projected
  line L46 (-12.6, 7.4) -> (-12.6, 0.5) projected
  arc A52 (-12.6, 0.5) -> (-12.1, 0) centre (-12.1, 0.5) ccw projected
  line L47 (-12.1, 0) -> (-5.2, 0) projected
  arc A53 (-5.2, 0) -> (-4.7, 0.5) centre (-5.2, 0.5) ccw projected
  line L48 (-4.7, 0.5) -> (-4.7, 1) projected
  arc A54 (-4.7, 1) -> (-5.2, 1.5) centre (-5.2, 1) ccw projected
  line L49 (-5.2, 1.5) -> (-6.4, 1.5) projected
  arc A55 (-6.6, 1.7) -> (-6.4, 1.5) centre (-6.4, 1.7) ccw projected
  line L50 (-6.6, 1.7) -> (-6.6, 5) projected
  arc A56 (-6.4, 5.2) -> (-6.6, 5) centre (-6.4, 5) ccw projected
  line L51 (-6.4, 5.2) -> (-5.2, 5.2) projected
equation "\"G_OFFSET_START\" = 0"
equation "\"G_OFFSET_END\" = 0"
equation "\"G_L\" = d90"
equation "\"d90\" = 330"
properties part number "s65" material "アルミニウム 6061"
